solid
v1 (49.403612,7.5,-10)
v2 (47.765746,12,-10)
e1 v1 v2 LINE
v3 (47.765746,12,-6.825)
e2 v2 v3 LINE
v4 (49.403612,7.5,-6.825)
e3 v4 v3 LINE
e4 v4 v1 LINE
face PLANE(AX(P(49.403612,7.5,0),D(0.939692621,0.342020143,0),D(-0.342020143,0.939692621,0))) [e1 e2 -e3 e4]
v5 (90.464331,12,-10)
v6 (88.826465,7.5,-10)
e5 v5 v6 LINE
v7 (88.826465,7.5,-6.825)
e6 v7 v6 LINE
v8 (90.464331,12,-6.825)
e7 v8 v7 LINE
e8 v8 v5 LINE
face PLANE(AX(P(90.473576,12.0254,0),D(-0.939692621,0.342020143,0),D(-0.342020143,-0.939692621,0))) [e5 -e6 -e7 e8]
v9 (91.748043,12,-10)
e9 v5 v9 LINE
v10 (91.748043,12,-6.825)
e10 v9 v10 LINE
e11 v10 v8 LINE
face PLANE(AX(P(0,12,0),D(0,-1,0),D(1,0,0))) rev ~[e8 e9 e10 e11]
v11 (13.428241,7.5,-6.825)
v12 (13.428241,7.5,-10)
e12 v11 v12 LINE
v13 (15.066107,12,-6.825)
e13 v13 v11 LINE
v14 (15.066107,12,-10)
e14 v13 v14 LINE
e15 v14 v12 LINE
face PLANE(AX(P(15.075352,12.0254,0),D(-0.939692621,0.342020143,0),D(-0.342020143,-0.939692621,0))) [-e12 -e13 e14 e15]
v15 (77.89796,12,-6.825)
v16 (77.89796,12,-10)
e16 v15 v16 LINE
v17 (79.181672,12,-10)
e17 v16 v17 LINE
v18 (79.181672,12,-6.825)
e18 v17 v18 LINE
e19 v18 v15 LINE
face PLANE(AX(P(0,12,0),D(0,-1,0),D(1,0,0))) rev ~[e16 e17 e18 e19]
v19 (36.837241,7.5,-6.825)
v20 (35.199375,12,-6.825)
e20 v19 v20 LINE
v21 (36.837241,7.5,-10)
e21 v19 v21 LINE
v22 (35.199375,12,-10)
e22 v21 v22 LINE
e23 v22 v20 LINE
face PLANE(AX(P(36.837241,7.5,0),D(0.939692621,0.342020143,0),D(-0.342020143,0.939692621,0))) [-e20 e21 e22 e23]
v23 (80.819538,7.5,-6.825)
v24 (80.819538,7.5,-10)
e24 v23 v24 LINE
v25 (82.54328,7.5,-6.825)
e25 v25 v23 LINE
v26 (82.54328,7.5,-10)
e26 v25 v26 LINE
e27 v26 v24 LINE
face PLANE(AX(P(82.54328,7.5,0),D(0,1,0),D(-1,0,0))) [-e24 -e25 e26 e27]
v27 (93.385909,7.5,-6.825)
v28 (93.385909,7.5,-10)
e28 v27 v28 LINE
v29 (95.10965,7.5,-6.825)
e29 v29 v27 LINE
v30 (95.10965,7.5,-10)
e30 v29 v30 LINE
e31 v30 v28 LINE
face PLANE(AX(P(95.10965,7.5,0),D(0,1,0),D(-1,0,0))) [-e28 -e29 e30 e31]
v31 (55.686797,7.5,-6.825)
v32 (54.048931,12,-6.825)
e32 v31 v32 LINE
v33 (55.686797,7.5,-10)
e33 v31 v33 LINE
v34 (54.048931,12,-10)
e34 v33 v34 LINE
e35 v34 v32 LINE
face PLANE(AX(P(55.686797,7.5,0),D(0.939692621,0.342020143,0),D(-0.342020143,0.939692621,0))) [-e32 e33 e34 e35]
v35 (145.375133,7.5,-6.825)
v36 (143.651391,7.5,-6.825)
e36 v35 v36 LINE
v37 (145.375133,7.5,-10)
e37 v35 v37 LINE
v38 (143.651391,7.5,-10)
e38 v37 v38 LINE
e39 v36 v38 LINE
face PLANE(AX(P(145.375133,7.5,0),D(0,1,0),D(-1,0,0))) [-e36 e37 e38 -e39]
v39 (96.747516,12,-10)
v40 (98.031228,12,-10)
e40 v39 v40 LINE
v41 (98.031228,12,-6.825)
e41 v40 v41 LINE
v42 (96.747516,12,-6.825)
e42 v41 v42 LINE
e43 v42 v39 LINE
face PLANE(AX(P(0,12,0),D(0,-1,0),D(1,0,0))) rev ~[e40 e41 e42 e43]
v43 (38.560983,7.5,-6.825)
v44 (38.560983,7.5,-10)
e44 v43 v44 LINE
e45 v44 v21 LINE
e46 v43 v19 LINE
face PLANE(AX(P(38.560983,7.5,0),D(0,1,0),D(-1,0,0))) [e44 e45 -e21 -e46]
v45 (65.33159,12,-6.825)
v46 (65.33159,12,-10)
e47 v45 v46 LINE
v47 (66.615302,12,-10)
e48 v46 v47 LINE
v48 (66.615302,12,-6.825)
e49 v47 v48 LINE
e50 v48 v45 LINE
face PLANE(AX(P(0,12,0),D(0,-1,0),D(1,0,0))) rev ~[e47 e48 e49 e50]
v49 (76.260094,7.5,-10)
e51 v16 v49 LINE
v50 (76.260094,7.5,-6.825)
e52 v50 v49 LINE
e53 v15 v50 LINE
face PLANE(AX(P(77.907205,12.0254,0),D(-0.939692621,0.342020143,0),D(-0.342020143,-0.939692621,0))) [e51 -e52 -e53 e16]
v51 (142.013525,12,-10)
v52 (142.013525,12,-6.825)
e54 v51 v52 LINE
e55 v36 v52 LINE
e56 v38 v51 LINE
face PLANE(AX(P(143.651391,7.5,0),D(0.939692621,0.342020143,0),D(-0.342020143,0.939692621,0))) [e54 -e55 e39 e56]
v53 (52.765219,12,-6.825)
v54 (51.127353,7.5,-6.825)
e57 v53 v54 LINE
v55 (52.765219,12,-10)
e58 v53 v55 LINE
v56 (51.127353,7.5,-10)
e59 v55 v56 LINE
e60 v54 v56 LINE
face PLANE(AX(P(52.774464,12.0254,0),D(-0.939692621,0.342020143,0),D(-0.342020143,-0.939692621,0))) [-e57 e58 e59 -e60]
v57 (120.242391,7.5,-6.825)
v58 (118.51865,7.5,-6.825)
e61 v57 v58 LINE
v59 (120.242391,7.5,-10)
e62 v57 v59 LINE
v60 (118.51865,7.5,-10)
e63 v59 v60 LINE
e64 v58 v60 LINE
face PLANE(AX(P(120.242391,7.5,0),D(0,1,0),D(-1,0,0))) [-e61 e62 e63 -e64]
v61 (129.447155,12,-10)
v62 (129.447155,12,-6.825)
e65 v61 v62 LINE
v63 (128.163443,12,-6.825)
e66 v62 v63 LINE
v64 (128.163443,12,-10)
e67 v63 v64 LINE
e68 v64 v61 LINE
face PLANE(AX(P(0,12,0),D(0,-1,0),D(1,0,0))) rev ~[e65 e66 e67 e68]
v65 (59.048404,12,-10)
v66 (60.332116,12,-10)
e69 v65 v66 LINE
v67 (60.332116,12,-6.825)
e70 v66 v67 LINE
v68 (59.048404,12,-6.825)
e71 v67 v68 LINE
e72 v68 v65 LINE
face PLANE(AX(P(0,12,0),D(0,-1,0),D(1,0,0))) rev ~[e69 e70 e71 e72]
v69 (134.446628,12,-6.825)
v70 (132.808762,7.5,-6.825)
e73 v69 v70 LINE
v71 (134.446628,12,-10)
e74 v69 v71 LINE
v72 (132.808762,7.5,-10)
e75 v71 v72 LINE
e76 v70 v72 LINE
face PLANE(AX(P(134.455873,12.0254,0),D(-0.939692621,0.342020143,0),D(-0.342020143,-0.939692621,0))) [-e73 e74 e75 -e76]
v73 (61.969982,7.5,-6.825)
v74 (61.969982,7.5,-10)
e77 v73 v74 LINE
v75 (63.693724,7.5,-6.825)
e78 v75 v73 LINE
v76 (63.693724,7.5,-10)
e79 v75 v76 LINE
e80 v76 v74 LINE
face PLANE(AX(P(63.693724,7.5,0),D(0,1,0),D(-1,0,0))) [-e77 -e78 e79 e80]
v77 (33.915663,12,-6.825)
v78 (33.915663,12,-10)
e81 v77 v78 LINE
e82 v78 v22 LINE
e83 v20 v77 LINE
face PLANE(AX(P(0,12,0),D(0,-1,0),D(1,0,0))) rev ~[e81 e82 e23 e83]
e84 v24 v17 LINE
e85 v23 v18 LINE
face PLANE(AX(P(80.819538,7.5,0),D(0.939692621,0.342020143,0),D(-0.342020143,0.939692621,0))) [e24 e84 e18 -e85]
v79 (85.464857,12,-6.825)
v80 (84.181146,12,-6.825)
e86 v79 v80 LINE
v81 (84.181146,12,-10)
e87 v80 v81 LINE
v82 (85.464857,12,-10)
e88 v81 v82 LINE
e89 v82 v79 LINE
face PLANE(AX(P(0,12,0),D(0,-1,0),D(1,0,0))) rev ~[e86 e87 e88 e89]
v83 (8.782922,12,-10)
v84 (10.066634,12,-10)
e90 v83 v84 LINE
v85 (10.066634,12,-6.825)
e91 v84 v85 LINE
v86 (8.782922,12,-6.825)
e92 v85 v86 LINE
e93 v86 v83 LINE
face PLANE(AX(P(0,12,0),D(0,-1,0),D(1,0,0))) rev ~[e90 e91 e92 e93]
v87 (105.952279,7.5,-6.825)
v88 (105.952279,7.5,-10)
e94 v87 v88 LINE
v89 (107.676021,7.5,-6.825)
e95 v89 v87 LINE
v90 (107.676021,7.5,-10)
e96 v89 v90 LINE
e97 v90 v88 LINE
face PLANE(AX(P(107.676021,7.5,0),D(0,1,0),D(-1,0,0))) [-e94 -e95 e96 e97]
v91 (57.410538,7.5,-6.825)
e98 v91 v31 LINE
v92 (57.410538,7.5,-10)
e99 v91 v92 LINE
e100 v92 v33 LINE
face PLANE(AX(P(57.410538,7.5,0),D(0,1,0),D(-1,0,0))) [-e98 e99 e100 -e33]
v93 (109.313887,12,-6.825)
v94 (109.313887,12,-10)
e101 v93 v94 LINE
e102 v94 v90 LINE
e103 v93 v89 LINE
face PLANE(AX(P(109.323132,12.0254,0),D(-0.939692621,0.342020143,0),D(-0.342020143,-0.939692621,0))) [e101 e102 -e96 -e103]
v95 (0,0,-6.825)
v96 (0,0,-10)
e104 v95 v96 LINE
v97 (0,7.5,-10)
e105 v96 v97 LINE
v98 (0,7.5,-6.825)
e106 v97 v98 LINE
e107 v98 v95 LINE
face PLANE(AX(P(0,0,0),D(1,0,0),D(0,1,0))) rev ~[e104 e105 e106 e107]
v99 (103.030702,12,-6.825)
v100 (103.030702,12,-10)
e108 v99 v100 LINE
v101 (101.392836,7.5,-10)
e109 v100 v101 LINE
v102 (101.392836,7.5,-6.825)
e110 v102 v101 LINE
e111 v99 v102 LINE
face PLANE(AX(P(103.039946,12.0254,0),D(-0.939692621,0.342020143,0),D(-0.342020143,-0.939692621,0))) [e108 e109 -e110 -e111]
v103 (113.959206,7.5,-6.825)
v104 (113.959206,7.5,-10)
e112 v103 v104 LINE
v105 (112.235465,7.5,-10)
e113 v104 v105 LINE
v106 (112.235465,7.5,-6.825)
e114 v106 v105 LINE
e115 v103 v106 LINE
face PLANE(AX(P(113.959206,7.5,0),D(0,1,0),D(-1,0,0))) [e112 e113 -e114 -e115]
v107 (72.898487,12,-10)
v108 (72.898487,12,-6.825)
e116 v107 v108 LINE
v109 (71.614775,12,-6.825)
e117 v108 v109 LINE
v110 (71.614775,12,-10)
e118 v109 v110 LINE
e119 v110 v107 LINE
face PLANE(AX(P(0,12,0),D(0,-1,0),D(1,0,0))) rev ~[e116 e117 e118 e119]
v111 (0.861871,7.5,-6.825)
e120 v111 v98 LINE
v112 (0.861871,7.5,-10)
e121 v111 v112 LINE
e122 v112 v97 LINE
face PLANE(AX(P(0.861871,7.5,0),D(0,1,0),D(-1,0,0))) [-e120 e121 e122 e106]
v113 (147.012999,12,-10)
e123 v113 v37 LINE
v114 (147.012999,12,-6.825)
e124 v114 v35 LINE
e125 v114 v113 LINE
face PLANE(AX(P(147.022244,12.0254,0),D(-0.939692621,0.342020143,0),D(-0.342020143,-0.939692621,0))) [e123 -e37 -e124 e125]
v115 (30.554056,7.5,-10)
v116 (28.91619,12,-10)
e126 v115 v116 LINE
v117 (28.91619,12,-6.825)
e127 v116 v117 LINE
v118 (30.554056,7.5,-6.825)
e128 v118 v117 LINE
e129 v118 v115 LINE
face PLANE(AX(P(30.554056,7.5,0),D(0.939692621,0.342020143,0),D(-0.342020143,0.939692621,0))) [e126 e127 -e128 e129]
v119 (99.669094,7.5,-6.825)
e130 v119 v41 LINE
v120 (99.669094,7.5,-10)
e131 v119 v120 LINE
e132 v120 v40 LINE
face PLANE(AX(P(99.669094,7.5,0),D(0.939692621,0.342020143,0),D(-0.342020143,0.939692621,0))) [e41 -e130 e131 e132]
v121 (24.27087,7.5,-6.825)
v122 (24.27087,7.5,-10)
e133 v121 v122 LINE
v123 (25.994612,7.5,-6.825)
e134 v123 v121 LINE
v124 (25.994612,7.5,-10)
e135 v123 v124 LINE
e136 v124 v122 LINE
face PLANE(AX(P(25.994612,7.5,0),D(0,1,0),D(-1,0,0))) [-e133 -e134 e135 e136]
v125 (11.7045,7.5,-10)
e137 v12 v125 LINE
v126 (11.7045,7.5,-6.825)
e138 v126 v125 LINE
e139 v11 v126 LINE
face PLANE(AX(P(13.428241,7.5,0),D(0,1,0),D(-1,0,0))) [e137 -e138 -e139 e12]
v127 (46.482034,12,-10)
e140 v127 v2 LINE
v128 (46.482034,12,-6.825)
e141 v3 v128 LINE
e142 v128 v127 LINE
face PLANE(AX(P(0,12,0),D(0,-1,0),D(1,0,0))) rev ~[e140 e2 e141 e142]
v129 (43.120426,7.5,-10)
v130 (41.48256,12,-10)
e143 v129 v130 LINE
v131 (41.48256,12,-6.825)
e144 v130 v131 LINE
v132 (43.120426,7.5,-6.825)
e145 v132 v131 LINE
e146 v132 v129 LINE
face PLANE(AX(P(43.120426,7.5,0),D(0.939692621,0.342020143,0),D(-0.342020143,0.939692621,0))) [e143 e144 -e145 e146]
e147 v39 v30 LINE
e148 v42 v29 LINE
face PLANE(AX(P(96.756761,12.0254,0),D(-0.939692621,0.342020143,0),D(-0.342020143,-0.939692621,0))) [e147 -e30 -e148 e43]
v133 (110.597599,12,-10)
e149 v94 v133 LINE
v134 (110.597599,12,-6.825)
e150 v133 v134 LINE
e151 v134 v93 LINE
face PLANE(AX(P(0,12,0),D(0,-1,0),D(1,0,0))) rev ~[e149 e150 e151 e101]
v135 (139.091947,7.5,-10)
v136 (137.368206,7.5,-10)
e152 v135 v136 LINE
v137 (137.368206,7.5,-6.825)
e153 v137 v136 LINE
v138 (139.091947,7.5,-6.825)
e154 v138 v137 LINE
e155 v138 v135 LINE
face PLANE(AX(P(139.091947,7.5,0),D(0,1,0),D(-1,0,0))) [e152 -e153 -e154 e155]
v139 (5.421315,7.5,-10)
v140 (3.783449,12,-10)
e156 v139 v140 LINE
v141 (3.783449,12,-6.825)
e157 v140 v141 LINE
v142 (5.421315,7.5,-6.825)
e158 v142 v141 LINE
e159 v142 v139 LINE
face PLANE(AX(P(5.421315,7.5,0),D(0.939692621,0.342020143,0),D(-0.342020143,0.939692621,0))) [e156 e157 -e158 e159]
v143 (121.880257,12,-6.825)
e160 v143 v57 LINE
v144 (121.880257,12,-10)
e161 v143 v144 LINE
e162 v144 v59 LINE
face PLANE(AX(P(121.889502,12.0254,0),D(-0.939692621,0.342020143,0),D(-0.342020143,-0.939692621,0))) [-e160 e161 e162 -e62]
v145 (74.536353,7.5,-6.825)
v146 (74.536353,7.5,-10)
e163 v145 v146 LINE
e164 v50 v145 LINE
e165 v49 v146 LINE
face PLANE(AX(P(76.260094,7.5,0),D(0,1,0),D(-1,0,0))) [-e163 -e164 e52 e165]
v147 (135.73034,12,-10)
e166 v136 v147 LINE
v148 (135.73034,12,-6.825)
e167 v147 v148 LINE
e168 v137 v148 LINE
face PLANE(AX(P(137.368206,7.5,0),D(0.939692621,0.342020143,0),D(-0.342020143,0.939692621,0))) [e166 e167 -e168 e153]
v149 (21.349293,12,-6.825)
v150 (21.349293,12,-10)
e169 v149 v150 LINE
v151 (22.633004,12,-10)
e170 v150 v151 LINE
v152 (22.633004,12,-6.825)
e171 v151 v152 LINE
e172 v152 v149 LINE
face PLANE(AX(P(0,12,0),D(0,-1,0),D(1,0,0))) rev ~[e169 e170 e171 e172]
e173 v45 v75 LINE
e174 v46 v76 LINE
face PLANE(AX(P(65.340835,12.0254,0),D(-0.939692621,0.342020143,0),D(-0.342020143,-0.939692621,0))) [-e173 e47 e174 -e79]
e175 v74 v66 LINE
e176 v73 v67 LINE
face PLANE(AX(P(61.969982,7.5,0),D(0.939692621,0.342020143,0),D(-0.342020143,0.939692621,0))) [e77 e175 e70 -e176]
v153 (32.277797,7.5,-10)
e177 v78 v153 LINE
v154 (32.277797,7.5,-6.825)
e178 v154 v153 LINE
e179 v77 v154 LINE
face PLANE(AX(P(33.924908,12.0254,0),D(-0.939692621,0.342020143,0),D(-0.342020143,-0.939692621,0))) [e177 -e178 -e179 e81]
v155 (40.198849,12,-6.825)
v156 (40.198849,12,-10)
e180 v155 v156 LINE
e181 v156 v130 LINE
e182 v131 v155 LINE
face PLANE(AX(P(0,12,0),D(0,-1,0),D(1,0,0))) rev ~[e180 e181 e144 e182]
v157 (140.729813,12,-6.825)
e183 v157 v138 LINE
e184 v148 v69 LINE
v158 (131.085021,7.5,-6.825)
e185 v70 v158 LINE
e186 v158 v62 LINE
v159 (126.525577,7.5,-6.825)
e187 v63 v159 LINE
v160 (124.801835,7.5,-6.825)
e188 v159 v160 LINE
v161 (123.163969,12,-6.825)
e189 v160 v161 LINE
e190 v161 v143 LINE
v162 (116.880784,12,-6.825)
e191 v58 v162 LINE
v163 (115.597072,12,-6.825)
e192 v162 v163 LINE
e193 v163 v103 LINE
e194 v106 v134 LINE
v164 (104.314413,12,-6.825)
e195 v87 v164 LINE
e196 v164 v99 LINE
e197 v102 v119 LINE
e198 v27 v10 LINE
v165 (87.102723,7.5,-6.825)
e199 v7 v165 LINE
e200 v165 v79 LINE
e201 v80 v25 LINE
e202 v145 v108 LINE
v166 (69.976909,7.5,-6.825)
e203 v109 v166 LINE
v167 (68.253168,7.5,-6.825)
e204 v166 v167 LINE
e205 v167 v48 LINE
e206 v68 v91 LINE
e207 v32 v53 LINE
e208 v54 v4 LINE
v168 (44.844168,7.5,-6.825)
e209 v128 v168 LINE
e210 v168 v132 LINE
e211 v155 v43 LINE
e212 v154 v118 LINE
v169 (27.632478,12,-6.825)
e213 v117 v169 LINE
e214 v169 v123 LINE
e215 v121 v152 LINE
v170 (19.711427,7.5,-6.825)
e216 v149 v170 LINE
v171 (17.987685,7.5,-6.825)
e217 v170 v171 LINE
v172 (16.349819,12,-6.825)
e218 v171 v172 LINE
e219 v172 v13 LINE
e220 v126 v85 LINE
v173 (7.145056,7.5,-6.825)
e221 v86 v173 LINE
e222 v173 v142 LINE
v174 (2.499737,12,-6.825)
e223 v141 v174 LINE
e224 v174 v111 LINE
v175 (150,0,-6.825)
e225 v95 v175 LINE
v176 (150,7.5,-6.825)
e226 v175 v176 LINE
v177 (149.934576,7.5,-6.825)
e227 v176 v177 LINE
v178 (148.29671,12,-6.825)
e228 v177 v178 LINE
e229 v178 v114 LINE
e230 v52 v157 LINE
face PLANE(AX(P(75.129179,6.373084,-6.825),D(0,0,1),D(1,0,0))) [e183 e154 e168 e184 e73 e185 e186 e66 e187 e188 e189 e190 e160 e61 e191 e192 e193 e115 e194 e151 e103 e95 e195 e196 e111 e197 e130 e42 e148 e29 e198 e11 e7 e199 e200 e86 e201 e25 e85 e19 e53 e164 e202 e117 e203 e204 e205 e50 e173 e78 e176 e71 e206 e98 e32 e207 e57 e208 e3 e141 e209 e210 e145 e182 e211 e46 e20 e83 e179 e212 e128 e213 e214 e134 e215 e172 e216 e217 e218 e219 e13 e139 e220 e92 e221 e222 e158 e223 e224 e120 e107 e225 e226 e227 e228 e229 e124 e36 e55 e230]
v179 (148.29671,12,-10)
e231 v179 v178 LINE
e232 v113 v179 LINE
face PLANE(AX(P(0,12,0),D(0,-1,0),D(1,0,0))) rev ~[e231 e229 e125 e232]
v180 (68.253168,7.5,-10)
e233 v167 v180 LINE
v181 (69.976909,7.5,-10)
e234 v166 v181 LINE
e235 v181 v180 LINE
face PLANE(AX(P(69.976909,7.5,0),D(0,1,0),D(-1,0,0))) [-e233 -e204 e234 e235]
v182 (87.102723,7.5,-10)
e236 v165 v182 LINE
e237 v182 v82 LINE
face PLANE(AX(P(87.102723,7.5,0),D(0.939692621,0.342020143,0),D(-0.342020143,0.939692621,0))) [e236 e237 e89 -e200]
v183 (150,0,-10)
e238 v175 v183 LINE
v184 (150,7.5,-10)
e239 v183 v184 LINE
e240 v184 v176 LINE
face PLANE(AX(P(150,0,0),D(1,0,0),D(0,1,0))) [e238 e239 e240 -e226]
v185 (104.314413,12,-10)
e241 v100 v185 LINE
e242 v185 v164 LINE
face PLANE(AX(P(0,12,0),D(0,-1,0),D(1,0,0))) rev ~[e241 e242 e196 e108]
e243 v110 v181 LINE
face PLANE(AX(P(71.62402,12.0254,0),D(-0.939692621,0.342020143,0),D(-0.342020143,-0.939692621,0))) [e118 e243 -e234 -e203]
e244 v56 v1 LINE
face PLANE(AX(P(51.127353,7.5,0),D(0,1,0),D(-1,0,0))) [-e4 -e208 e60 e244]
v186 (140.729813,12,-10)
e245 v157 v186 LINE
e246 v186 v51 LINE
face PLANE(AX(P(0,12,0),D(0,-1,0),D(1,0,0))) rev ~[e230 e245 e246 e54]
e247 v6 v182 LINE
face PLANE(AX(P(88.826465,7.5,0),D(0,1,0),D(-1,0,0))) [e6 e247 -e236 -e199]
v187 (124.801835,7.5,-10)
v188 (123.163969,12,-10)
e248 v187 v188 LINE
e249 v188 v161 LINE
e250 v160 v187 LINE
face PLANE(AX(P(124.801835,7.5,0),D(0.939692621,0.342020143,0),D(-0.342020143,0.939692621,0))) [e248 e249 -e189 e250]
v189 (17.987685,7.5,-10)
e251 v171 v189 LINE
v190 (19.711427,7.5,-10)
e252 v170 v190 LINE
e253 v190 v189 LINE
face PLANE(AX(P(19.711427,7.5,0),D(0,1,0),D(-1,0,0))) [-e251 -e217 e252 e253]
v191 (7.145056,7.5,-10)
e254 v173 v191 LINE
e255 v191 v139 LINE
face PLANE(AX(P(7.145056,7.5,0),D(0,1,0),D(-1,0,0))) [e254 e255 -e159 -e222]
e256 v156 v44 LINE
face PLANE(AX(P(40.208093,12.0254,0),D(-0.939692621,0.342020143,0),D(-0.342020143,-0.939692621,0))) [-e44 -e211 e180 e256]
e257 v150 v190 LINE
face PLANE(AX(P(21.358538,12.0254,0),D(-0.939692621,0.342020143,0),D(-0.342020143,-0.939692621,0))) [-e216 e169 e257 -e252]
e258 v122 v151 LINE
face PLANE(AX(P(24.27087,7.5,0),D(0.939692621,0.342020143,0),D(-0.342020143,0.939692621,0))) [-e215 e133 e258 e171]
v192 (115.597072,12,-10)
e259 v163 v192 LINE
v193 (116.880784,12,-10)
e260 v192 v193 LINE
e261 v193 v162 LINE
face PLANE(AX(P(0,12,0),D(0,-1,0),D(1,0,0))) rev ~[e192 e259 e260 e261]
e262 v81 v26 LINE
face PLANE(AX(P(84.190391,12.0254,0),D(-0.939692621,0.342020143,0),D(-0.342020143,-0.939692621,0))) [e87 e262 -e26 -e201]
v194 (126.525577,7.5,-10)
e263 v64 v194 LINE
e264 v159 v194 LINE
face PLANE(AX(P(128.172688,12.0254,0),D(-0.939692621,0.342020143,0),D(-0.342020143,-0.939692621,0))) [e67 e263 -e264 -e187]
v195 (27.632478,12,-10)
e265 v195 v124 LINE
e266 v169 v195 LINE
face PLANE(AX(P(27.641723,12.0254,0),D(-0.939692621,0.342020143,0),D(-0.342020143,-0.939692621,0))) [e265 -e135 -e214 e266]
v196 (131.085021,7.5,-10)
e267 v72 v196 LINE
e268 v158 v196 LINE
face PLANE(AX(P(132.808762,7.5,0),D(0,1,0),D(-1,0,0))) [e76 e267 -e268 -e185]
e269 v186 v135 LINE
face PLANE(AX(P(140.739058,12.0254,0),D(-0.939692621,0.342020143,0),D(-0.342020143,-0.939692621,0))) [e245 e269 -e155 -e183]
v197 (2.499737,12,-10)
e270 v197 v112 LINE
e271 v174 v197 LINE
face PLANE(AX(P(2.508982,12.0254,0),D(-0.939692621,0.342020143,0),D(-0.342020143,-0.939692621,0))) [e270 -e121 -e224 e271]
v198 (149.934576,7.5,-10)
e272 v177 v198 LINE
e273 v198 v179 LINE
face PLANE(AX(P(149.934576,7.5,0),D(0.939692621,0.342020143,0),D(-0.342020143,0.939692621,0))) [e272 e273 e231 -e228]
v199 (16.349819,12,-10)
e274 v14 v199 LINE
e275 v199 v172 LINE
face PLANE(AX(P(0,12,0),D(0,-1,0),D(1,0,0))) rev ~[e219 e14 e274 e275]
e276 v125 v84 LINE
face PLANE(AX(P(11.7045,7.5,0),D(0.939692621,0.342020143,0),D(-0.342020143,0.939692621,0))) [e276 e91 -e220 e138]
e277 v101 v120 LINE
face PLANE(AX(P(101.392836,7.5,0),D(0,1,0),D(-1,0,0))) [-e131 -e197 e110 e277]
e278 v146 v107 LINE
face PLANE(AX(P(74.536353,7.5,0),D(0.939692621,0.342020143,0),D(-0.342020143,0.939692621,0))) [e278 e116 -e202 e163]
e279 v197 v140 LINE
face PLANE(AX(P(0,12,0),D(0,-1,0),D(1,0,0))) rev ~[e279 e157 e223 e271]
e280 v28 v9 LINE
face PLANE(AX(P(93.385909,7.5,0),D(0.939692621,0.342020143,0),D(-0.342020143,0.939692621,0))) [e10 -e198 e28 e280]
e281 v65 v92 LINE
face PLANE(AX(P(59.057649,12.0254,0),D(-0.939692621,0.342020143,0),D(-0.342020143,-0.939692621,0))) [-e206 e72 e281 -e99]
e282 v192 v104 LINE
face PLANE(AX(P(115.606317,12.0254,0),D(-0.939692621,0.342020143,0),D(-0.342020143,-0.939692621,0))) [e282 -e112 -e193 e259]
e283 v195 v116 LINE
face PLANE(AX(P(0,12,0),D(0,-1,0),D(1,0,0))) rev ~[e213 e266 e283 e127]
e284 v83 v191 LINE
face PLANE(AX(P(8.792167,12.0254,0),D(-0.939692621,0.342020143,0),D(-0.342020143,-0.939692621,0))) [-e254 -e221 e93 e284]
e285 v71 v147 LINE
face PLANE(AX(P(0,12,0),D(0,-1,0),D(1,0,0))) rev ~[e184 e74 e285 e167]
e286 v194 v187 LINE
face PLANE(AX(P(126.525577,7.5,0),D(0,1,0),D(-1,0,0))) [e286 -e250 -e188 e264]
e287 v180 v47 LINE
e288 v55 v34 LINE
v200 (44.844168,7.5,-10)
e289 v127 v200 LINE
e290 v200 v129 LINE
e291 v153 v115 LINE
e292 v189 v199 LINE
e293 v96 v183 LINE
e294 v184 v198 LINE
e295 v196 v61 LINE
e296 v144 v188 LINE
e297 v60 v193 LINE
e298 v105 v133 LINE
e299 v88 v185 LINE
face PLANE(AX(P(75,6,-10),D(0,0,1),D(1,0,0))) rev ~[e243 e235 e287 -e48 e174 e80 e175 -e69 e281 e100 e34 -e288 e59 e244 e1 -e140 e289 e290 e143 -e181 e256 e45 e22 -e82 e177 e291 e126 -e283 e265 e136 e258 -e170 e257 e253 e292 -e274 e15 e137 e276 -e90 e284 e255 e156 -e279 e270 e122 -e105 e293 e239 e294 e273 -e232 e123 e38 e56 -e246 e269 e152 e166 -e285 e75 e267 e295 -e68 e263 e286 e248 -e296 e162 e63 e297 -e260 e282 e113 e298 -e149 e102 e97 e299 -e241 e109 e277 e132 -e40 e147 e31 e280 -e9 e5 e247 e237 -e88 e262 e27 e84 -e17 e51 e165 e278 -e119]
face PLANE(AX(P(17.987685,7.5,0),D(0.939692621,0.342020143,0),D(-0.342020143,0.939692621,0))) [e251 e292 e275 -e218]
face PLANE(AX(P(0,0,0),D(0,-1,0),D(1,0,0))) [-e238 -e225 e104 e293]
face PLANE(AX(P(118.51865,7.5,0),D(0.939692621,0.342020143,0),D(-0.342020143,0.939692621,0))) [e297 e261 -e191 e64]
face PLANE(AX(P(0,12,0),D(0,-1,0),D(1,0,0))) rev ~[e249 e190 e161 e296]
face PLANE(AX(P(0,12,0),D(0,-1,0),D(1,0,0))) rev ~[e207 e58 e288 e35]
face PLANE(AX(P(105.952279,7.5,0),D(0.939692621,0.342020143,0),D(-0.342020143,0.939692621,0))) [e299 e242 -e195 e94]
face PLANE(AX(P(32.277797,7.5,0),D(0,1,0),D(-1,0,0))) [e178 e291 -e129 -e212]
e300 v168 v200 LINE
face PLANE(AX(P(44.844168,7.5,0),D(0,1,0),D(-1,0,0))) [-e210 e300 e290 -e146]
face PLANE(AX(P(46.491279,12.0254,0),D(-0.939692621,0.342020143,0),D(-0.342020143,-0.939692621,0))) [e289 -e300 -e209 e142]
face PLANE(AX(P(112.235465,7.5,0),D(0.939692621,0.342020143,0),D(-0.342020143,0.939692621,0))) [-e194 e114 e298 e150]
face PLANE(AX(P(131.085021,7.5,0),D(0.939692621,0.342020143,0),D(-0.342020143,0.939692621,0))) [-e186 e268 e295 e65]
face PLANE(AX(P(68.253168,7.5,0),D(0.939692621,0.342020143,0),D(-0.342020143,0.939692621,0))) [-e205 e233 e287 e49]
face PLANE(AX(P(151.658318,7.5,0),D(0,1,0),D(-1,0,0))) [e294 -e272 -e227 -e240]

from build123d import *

# Parameters (mm, degrees)
BLANKSKE_W         = 150
BLANKSKE_H         = 12
BLANK_DEPTH        = 10
TOOTHCUTSIM_DEPTH  = 151.811140172
TEETHCUTS_COUNT    = 25
TEETHCUTS_PITCH    = 6.2831853
CUT_EXTRUDE1_DEPTH = 6.825


with BuildPart() as part:
    # BlankSke → Blank (new body)
    with BuildSketch(Plane.XY):
        with Locations((75, 6)):
            Rectangle(BLANKSKE_W, BLANKSKE_H)
    extrude(amount=-BLANK_DEPTH)

    # TooCutSkeSim → ToothCutSim (cut, through all)
    with BuildSketch(Plane.XY):
        Polygon((0.861870739, 7.5), (-0.861870739, 7.5), (-2.508981637, 12.0254), (2.508981637, 12.0254), align=None)
    toothcutsim = extrude(amount=-TOOTHCUTSIM_DEPTH, mode=Mode.SUBTRACT)

    # TeethCuts: ToothCutSim ×25
    with Locations(*[(i * TEETHCUTS_PITCH, 0, 0) for i in range(1, TEETHCUTS_COUNT)]):
        add(toothcutsim, mode=Mode.SUBTRACT)

    # Sketch1 → Cut-Extrude1 (cut)
    with BuildSketch(Plane.XY):
        Polygon((150, 7.5), (149.934576461, 7.5), (148.296710406, 12), (147.012998694, 12), (145.375132639, 7.5), (143.651391161, 7.5), (142.013525106, 12), (140.729813394, 12), (139.091947339, 7.5), (137.368205861, 7.5), (135.730339806, 12), (134.446628094, 12), (132.808762039, 7.5), (131.085020561, 7.5), (129.447154506, 12), (128.163442794, 12), (126.525576739, 7.5), (124.801835261, 7.5), (123.163969206, 12), (121.880257494, 12), (120.242391439, 7.5), (118.518649961, 7.5), (116.880783906, 12), (115.597072194, 12), (113.959206139, 7.5), (112.235464661, 7.5), (110.597598606, 12), (109.313886894, 12), (107.676020839, 7.5), (105.952279361, 7.5), (104.314413306, 12), (103.030701594, 12), (101.392835539, 7.5), (99.669094061, 7.5), (98.031228006, 12), (96.747516294, 12), (95.109650239, 7.5), (93.385908761, 7.5), (91.748042706, 12), (90.464330994, 12), (88.826464939, 7.5), (87.102723461, 7.5), (85.464857406, 12), (84.181145694, 12), (82.543279639, 7.5), (80.819538161, 7.5), (79.181672106, 12), (77.897960394, 12), (76.260094339, 7.5), (74.536352861, 7.5), (72.898486806, 12), (71.614775094, 12), (69.976909039, 7.5), (68.253167561, 7.5), (66.615301506, 12), (65.331589794, 12), (63.693723739, 7.5), (61.969982261, 7.5), (60.332116206, 12), (59.048404494, 12), (57.410538439, 7.5), (55.686796961, 7.5), (54.048930906, 12), (52.765219194, 12), (51.127353139, 7.5), (49.403611661, 7.5), (47.765745606, 12), (46.482033894, 12), (44.844167839, 7.5), (43.120426361, 7.5), (41.482560306, 12), (40.198848594, 12), (38.560982539, 7.5), (36.837241061, 7.5), (35.199375006, 12), (33.915663294, 12), (32.277797239, 7.5), (30.554055761, 7.5), (28.916189706, 12), (27.632477994, 12), (25.994611939, 7.5), (24.270870461, 7.5), (22.633004406, 12), (21.349292694, 12), (19.711426639, 7.5), (17.987685161, 7.5), (16.349819106, 12), (15.066107394, 12), (13.428241339, 7.5), (11.704499861, 7.5), (10.066633806, 12), (8.782922094, 12), (7.145056039, 7.5), (5.421314561, 7.5), (3.783448506, 12), (2.499736794, 12), (0.861870739, 7.5), (0, 7.5), (0, 0), (150, 0), align=None)
    extrude(amount=-CUT_EXTRUDE1_DEPTH, mode=Mode.SUBTRACT)


solid = part.part
